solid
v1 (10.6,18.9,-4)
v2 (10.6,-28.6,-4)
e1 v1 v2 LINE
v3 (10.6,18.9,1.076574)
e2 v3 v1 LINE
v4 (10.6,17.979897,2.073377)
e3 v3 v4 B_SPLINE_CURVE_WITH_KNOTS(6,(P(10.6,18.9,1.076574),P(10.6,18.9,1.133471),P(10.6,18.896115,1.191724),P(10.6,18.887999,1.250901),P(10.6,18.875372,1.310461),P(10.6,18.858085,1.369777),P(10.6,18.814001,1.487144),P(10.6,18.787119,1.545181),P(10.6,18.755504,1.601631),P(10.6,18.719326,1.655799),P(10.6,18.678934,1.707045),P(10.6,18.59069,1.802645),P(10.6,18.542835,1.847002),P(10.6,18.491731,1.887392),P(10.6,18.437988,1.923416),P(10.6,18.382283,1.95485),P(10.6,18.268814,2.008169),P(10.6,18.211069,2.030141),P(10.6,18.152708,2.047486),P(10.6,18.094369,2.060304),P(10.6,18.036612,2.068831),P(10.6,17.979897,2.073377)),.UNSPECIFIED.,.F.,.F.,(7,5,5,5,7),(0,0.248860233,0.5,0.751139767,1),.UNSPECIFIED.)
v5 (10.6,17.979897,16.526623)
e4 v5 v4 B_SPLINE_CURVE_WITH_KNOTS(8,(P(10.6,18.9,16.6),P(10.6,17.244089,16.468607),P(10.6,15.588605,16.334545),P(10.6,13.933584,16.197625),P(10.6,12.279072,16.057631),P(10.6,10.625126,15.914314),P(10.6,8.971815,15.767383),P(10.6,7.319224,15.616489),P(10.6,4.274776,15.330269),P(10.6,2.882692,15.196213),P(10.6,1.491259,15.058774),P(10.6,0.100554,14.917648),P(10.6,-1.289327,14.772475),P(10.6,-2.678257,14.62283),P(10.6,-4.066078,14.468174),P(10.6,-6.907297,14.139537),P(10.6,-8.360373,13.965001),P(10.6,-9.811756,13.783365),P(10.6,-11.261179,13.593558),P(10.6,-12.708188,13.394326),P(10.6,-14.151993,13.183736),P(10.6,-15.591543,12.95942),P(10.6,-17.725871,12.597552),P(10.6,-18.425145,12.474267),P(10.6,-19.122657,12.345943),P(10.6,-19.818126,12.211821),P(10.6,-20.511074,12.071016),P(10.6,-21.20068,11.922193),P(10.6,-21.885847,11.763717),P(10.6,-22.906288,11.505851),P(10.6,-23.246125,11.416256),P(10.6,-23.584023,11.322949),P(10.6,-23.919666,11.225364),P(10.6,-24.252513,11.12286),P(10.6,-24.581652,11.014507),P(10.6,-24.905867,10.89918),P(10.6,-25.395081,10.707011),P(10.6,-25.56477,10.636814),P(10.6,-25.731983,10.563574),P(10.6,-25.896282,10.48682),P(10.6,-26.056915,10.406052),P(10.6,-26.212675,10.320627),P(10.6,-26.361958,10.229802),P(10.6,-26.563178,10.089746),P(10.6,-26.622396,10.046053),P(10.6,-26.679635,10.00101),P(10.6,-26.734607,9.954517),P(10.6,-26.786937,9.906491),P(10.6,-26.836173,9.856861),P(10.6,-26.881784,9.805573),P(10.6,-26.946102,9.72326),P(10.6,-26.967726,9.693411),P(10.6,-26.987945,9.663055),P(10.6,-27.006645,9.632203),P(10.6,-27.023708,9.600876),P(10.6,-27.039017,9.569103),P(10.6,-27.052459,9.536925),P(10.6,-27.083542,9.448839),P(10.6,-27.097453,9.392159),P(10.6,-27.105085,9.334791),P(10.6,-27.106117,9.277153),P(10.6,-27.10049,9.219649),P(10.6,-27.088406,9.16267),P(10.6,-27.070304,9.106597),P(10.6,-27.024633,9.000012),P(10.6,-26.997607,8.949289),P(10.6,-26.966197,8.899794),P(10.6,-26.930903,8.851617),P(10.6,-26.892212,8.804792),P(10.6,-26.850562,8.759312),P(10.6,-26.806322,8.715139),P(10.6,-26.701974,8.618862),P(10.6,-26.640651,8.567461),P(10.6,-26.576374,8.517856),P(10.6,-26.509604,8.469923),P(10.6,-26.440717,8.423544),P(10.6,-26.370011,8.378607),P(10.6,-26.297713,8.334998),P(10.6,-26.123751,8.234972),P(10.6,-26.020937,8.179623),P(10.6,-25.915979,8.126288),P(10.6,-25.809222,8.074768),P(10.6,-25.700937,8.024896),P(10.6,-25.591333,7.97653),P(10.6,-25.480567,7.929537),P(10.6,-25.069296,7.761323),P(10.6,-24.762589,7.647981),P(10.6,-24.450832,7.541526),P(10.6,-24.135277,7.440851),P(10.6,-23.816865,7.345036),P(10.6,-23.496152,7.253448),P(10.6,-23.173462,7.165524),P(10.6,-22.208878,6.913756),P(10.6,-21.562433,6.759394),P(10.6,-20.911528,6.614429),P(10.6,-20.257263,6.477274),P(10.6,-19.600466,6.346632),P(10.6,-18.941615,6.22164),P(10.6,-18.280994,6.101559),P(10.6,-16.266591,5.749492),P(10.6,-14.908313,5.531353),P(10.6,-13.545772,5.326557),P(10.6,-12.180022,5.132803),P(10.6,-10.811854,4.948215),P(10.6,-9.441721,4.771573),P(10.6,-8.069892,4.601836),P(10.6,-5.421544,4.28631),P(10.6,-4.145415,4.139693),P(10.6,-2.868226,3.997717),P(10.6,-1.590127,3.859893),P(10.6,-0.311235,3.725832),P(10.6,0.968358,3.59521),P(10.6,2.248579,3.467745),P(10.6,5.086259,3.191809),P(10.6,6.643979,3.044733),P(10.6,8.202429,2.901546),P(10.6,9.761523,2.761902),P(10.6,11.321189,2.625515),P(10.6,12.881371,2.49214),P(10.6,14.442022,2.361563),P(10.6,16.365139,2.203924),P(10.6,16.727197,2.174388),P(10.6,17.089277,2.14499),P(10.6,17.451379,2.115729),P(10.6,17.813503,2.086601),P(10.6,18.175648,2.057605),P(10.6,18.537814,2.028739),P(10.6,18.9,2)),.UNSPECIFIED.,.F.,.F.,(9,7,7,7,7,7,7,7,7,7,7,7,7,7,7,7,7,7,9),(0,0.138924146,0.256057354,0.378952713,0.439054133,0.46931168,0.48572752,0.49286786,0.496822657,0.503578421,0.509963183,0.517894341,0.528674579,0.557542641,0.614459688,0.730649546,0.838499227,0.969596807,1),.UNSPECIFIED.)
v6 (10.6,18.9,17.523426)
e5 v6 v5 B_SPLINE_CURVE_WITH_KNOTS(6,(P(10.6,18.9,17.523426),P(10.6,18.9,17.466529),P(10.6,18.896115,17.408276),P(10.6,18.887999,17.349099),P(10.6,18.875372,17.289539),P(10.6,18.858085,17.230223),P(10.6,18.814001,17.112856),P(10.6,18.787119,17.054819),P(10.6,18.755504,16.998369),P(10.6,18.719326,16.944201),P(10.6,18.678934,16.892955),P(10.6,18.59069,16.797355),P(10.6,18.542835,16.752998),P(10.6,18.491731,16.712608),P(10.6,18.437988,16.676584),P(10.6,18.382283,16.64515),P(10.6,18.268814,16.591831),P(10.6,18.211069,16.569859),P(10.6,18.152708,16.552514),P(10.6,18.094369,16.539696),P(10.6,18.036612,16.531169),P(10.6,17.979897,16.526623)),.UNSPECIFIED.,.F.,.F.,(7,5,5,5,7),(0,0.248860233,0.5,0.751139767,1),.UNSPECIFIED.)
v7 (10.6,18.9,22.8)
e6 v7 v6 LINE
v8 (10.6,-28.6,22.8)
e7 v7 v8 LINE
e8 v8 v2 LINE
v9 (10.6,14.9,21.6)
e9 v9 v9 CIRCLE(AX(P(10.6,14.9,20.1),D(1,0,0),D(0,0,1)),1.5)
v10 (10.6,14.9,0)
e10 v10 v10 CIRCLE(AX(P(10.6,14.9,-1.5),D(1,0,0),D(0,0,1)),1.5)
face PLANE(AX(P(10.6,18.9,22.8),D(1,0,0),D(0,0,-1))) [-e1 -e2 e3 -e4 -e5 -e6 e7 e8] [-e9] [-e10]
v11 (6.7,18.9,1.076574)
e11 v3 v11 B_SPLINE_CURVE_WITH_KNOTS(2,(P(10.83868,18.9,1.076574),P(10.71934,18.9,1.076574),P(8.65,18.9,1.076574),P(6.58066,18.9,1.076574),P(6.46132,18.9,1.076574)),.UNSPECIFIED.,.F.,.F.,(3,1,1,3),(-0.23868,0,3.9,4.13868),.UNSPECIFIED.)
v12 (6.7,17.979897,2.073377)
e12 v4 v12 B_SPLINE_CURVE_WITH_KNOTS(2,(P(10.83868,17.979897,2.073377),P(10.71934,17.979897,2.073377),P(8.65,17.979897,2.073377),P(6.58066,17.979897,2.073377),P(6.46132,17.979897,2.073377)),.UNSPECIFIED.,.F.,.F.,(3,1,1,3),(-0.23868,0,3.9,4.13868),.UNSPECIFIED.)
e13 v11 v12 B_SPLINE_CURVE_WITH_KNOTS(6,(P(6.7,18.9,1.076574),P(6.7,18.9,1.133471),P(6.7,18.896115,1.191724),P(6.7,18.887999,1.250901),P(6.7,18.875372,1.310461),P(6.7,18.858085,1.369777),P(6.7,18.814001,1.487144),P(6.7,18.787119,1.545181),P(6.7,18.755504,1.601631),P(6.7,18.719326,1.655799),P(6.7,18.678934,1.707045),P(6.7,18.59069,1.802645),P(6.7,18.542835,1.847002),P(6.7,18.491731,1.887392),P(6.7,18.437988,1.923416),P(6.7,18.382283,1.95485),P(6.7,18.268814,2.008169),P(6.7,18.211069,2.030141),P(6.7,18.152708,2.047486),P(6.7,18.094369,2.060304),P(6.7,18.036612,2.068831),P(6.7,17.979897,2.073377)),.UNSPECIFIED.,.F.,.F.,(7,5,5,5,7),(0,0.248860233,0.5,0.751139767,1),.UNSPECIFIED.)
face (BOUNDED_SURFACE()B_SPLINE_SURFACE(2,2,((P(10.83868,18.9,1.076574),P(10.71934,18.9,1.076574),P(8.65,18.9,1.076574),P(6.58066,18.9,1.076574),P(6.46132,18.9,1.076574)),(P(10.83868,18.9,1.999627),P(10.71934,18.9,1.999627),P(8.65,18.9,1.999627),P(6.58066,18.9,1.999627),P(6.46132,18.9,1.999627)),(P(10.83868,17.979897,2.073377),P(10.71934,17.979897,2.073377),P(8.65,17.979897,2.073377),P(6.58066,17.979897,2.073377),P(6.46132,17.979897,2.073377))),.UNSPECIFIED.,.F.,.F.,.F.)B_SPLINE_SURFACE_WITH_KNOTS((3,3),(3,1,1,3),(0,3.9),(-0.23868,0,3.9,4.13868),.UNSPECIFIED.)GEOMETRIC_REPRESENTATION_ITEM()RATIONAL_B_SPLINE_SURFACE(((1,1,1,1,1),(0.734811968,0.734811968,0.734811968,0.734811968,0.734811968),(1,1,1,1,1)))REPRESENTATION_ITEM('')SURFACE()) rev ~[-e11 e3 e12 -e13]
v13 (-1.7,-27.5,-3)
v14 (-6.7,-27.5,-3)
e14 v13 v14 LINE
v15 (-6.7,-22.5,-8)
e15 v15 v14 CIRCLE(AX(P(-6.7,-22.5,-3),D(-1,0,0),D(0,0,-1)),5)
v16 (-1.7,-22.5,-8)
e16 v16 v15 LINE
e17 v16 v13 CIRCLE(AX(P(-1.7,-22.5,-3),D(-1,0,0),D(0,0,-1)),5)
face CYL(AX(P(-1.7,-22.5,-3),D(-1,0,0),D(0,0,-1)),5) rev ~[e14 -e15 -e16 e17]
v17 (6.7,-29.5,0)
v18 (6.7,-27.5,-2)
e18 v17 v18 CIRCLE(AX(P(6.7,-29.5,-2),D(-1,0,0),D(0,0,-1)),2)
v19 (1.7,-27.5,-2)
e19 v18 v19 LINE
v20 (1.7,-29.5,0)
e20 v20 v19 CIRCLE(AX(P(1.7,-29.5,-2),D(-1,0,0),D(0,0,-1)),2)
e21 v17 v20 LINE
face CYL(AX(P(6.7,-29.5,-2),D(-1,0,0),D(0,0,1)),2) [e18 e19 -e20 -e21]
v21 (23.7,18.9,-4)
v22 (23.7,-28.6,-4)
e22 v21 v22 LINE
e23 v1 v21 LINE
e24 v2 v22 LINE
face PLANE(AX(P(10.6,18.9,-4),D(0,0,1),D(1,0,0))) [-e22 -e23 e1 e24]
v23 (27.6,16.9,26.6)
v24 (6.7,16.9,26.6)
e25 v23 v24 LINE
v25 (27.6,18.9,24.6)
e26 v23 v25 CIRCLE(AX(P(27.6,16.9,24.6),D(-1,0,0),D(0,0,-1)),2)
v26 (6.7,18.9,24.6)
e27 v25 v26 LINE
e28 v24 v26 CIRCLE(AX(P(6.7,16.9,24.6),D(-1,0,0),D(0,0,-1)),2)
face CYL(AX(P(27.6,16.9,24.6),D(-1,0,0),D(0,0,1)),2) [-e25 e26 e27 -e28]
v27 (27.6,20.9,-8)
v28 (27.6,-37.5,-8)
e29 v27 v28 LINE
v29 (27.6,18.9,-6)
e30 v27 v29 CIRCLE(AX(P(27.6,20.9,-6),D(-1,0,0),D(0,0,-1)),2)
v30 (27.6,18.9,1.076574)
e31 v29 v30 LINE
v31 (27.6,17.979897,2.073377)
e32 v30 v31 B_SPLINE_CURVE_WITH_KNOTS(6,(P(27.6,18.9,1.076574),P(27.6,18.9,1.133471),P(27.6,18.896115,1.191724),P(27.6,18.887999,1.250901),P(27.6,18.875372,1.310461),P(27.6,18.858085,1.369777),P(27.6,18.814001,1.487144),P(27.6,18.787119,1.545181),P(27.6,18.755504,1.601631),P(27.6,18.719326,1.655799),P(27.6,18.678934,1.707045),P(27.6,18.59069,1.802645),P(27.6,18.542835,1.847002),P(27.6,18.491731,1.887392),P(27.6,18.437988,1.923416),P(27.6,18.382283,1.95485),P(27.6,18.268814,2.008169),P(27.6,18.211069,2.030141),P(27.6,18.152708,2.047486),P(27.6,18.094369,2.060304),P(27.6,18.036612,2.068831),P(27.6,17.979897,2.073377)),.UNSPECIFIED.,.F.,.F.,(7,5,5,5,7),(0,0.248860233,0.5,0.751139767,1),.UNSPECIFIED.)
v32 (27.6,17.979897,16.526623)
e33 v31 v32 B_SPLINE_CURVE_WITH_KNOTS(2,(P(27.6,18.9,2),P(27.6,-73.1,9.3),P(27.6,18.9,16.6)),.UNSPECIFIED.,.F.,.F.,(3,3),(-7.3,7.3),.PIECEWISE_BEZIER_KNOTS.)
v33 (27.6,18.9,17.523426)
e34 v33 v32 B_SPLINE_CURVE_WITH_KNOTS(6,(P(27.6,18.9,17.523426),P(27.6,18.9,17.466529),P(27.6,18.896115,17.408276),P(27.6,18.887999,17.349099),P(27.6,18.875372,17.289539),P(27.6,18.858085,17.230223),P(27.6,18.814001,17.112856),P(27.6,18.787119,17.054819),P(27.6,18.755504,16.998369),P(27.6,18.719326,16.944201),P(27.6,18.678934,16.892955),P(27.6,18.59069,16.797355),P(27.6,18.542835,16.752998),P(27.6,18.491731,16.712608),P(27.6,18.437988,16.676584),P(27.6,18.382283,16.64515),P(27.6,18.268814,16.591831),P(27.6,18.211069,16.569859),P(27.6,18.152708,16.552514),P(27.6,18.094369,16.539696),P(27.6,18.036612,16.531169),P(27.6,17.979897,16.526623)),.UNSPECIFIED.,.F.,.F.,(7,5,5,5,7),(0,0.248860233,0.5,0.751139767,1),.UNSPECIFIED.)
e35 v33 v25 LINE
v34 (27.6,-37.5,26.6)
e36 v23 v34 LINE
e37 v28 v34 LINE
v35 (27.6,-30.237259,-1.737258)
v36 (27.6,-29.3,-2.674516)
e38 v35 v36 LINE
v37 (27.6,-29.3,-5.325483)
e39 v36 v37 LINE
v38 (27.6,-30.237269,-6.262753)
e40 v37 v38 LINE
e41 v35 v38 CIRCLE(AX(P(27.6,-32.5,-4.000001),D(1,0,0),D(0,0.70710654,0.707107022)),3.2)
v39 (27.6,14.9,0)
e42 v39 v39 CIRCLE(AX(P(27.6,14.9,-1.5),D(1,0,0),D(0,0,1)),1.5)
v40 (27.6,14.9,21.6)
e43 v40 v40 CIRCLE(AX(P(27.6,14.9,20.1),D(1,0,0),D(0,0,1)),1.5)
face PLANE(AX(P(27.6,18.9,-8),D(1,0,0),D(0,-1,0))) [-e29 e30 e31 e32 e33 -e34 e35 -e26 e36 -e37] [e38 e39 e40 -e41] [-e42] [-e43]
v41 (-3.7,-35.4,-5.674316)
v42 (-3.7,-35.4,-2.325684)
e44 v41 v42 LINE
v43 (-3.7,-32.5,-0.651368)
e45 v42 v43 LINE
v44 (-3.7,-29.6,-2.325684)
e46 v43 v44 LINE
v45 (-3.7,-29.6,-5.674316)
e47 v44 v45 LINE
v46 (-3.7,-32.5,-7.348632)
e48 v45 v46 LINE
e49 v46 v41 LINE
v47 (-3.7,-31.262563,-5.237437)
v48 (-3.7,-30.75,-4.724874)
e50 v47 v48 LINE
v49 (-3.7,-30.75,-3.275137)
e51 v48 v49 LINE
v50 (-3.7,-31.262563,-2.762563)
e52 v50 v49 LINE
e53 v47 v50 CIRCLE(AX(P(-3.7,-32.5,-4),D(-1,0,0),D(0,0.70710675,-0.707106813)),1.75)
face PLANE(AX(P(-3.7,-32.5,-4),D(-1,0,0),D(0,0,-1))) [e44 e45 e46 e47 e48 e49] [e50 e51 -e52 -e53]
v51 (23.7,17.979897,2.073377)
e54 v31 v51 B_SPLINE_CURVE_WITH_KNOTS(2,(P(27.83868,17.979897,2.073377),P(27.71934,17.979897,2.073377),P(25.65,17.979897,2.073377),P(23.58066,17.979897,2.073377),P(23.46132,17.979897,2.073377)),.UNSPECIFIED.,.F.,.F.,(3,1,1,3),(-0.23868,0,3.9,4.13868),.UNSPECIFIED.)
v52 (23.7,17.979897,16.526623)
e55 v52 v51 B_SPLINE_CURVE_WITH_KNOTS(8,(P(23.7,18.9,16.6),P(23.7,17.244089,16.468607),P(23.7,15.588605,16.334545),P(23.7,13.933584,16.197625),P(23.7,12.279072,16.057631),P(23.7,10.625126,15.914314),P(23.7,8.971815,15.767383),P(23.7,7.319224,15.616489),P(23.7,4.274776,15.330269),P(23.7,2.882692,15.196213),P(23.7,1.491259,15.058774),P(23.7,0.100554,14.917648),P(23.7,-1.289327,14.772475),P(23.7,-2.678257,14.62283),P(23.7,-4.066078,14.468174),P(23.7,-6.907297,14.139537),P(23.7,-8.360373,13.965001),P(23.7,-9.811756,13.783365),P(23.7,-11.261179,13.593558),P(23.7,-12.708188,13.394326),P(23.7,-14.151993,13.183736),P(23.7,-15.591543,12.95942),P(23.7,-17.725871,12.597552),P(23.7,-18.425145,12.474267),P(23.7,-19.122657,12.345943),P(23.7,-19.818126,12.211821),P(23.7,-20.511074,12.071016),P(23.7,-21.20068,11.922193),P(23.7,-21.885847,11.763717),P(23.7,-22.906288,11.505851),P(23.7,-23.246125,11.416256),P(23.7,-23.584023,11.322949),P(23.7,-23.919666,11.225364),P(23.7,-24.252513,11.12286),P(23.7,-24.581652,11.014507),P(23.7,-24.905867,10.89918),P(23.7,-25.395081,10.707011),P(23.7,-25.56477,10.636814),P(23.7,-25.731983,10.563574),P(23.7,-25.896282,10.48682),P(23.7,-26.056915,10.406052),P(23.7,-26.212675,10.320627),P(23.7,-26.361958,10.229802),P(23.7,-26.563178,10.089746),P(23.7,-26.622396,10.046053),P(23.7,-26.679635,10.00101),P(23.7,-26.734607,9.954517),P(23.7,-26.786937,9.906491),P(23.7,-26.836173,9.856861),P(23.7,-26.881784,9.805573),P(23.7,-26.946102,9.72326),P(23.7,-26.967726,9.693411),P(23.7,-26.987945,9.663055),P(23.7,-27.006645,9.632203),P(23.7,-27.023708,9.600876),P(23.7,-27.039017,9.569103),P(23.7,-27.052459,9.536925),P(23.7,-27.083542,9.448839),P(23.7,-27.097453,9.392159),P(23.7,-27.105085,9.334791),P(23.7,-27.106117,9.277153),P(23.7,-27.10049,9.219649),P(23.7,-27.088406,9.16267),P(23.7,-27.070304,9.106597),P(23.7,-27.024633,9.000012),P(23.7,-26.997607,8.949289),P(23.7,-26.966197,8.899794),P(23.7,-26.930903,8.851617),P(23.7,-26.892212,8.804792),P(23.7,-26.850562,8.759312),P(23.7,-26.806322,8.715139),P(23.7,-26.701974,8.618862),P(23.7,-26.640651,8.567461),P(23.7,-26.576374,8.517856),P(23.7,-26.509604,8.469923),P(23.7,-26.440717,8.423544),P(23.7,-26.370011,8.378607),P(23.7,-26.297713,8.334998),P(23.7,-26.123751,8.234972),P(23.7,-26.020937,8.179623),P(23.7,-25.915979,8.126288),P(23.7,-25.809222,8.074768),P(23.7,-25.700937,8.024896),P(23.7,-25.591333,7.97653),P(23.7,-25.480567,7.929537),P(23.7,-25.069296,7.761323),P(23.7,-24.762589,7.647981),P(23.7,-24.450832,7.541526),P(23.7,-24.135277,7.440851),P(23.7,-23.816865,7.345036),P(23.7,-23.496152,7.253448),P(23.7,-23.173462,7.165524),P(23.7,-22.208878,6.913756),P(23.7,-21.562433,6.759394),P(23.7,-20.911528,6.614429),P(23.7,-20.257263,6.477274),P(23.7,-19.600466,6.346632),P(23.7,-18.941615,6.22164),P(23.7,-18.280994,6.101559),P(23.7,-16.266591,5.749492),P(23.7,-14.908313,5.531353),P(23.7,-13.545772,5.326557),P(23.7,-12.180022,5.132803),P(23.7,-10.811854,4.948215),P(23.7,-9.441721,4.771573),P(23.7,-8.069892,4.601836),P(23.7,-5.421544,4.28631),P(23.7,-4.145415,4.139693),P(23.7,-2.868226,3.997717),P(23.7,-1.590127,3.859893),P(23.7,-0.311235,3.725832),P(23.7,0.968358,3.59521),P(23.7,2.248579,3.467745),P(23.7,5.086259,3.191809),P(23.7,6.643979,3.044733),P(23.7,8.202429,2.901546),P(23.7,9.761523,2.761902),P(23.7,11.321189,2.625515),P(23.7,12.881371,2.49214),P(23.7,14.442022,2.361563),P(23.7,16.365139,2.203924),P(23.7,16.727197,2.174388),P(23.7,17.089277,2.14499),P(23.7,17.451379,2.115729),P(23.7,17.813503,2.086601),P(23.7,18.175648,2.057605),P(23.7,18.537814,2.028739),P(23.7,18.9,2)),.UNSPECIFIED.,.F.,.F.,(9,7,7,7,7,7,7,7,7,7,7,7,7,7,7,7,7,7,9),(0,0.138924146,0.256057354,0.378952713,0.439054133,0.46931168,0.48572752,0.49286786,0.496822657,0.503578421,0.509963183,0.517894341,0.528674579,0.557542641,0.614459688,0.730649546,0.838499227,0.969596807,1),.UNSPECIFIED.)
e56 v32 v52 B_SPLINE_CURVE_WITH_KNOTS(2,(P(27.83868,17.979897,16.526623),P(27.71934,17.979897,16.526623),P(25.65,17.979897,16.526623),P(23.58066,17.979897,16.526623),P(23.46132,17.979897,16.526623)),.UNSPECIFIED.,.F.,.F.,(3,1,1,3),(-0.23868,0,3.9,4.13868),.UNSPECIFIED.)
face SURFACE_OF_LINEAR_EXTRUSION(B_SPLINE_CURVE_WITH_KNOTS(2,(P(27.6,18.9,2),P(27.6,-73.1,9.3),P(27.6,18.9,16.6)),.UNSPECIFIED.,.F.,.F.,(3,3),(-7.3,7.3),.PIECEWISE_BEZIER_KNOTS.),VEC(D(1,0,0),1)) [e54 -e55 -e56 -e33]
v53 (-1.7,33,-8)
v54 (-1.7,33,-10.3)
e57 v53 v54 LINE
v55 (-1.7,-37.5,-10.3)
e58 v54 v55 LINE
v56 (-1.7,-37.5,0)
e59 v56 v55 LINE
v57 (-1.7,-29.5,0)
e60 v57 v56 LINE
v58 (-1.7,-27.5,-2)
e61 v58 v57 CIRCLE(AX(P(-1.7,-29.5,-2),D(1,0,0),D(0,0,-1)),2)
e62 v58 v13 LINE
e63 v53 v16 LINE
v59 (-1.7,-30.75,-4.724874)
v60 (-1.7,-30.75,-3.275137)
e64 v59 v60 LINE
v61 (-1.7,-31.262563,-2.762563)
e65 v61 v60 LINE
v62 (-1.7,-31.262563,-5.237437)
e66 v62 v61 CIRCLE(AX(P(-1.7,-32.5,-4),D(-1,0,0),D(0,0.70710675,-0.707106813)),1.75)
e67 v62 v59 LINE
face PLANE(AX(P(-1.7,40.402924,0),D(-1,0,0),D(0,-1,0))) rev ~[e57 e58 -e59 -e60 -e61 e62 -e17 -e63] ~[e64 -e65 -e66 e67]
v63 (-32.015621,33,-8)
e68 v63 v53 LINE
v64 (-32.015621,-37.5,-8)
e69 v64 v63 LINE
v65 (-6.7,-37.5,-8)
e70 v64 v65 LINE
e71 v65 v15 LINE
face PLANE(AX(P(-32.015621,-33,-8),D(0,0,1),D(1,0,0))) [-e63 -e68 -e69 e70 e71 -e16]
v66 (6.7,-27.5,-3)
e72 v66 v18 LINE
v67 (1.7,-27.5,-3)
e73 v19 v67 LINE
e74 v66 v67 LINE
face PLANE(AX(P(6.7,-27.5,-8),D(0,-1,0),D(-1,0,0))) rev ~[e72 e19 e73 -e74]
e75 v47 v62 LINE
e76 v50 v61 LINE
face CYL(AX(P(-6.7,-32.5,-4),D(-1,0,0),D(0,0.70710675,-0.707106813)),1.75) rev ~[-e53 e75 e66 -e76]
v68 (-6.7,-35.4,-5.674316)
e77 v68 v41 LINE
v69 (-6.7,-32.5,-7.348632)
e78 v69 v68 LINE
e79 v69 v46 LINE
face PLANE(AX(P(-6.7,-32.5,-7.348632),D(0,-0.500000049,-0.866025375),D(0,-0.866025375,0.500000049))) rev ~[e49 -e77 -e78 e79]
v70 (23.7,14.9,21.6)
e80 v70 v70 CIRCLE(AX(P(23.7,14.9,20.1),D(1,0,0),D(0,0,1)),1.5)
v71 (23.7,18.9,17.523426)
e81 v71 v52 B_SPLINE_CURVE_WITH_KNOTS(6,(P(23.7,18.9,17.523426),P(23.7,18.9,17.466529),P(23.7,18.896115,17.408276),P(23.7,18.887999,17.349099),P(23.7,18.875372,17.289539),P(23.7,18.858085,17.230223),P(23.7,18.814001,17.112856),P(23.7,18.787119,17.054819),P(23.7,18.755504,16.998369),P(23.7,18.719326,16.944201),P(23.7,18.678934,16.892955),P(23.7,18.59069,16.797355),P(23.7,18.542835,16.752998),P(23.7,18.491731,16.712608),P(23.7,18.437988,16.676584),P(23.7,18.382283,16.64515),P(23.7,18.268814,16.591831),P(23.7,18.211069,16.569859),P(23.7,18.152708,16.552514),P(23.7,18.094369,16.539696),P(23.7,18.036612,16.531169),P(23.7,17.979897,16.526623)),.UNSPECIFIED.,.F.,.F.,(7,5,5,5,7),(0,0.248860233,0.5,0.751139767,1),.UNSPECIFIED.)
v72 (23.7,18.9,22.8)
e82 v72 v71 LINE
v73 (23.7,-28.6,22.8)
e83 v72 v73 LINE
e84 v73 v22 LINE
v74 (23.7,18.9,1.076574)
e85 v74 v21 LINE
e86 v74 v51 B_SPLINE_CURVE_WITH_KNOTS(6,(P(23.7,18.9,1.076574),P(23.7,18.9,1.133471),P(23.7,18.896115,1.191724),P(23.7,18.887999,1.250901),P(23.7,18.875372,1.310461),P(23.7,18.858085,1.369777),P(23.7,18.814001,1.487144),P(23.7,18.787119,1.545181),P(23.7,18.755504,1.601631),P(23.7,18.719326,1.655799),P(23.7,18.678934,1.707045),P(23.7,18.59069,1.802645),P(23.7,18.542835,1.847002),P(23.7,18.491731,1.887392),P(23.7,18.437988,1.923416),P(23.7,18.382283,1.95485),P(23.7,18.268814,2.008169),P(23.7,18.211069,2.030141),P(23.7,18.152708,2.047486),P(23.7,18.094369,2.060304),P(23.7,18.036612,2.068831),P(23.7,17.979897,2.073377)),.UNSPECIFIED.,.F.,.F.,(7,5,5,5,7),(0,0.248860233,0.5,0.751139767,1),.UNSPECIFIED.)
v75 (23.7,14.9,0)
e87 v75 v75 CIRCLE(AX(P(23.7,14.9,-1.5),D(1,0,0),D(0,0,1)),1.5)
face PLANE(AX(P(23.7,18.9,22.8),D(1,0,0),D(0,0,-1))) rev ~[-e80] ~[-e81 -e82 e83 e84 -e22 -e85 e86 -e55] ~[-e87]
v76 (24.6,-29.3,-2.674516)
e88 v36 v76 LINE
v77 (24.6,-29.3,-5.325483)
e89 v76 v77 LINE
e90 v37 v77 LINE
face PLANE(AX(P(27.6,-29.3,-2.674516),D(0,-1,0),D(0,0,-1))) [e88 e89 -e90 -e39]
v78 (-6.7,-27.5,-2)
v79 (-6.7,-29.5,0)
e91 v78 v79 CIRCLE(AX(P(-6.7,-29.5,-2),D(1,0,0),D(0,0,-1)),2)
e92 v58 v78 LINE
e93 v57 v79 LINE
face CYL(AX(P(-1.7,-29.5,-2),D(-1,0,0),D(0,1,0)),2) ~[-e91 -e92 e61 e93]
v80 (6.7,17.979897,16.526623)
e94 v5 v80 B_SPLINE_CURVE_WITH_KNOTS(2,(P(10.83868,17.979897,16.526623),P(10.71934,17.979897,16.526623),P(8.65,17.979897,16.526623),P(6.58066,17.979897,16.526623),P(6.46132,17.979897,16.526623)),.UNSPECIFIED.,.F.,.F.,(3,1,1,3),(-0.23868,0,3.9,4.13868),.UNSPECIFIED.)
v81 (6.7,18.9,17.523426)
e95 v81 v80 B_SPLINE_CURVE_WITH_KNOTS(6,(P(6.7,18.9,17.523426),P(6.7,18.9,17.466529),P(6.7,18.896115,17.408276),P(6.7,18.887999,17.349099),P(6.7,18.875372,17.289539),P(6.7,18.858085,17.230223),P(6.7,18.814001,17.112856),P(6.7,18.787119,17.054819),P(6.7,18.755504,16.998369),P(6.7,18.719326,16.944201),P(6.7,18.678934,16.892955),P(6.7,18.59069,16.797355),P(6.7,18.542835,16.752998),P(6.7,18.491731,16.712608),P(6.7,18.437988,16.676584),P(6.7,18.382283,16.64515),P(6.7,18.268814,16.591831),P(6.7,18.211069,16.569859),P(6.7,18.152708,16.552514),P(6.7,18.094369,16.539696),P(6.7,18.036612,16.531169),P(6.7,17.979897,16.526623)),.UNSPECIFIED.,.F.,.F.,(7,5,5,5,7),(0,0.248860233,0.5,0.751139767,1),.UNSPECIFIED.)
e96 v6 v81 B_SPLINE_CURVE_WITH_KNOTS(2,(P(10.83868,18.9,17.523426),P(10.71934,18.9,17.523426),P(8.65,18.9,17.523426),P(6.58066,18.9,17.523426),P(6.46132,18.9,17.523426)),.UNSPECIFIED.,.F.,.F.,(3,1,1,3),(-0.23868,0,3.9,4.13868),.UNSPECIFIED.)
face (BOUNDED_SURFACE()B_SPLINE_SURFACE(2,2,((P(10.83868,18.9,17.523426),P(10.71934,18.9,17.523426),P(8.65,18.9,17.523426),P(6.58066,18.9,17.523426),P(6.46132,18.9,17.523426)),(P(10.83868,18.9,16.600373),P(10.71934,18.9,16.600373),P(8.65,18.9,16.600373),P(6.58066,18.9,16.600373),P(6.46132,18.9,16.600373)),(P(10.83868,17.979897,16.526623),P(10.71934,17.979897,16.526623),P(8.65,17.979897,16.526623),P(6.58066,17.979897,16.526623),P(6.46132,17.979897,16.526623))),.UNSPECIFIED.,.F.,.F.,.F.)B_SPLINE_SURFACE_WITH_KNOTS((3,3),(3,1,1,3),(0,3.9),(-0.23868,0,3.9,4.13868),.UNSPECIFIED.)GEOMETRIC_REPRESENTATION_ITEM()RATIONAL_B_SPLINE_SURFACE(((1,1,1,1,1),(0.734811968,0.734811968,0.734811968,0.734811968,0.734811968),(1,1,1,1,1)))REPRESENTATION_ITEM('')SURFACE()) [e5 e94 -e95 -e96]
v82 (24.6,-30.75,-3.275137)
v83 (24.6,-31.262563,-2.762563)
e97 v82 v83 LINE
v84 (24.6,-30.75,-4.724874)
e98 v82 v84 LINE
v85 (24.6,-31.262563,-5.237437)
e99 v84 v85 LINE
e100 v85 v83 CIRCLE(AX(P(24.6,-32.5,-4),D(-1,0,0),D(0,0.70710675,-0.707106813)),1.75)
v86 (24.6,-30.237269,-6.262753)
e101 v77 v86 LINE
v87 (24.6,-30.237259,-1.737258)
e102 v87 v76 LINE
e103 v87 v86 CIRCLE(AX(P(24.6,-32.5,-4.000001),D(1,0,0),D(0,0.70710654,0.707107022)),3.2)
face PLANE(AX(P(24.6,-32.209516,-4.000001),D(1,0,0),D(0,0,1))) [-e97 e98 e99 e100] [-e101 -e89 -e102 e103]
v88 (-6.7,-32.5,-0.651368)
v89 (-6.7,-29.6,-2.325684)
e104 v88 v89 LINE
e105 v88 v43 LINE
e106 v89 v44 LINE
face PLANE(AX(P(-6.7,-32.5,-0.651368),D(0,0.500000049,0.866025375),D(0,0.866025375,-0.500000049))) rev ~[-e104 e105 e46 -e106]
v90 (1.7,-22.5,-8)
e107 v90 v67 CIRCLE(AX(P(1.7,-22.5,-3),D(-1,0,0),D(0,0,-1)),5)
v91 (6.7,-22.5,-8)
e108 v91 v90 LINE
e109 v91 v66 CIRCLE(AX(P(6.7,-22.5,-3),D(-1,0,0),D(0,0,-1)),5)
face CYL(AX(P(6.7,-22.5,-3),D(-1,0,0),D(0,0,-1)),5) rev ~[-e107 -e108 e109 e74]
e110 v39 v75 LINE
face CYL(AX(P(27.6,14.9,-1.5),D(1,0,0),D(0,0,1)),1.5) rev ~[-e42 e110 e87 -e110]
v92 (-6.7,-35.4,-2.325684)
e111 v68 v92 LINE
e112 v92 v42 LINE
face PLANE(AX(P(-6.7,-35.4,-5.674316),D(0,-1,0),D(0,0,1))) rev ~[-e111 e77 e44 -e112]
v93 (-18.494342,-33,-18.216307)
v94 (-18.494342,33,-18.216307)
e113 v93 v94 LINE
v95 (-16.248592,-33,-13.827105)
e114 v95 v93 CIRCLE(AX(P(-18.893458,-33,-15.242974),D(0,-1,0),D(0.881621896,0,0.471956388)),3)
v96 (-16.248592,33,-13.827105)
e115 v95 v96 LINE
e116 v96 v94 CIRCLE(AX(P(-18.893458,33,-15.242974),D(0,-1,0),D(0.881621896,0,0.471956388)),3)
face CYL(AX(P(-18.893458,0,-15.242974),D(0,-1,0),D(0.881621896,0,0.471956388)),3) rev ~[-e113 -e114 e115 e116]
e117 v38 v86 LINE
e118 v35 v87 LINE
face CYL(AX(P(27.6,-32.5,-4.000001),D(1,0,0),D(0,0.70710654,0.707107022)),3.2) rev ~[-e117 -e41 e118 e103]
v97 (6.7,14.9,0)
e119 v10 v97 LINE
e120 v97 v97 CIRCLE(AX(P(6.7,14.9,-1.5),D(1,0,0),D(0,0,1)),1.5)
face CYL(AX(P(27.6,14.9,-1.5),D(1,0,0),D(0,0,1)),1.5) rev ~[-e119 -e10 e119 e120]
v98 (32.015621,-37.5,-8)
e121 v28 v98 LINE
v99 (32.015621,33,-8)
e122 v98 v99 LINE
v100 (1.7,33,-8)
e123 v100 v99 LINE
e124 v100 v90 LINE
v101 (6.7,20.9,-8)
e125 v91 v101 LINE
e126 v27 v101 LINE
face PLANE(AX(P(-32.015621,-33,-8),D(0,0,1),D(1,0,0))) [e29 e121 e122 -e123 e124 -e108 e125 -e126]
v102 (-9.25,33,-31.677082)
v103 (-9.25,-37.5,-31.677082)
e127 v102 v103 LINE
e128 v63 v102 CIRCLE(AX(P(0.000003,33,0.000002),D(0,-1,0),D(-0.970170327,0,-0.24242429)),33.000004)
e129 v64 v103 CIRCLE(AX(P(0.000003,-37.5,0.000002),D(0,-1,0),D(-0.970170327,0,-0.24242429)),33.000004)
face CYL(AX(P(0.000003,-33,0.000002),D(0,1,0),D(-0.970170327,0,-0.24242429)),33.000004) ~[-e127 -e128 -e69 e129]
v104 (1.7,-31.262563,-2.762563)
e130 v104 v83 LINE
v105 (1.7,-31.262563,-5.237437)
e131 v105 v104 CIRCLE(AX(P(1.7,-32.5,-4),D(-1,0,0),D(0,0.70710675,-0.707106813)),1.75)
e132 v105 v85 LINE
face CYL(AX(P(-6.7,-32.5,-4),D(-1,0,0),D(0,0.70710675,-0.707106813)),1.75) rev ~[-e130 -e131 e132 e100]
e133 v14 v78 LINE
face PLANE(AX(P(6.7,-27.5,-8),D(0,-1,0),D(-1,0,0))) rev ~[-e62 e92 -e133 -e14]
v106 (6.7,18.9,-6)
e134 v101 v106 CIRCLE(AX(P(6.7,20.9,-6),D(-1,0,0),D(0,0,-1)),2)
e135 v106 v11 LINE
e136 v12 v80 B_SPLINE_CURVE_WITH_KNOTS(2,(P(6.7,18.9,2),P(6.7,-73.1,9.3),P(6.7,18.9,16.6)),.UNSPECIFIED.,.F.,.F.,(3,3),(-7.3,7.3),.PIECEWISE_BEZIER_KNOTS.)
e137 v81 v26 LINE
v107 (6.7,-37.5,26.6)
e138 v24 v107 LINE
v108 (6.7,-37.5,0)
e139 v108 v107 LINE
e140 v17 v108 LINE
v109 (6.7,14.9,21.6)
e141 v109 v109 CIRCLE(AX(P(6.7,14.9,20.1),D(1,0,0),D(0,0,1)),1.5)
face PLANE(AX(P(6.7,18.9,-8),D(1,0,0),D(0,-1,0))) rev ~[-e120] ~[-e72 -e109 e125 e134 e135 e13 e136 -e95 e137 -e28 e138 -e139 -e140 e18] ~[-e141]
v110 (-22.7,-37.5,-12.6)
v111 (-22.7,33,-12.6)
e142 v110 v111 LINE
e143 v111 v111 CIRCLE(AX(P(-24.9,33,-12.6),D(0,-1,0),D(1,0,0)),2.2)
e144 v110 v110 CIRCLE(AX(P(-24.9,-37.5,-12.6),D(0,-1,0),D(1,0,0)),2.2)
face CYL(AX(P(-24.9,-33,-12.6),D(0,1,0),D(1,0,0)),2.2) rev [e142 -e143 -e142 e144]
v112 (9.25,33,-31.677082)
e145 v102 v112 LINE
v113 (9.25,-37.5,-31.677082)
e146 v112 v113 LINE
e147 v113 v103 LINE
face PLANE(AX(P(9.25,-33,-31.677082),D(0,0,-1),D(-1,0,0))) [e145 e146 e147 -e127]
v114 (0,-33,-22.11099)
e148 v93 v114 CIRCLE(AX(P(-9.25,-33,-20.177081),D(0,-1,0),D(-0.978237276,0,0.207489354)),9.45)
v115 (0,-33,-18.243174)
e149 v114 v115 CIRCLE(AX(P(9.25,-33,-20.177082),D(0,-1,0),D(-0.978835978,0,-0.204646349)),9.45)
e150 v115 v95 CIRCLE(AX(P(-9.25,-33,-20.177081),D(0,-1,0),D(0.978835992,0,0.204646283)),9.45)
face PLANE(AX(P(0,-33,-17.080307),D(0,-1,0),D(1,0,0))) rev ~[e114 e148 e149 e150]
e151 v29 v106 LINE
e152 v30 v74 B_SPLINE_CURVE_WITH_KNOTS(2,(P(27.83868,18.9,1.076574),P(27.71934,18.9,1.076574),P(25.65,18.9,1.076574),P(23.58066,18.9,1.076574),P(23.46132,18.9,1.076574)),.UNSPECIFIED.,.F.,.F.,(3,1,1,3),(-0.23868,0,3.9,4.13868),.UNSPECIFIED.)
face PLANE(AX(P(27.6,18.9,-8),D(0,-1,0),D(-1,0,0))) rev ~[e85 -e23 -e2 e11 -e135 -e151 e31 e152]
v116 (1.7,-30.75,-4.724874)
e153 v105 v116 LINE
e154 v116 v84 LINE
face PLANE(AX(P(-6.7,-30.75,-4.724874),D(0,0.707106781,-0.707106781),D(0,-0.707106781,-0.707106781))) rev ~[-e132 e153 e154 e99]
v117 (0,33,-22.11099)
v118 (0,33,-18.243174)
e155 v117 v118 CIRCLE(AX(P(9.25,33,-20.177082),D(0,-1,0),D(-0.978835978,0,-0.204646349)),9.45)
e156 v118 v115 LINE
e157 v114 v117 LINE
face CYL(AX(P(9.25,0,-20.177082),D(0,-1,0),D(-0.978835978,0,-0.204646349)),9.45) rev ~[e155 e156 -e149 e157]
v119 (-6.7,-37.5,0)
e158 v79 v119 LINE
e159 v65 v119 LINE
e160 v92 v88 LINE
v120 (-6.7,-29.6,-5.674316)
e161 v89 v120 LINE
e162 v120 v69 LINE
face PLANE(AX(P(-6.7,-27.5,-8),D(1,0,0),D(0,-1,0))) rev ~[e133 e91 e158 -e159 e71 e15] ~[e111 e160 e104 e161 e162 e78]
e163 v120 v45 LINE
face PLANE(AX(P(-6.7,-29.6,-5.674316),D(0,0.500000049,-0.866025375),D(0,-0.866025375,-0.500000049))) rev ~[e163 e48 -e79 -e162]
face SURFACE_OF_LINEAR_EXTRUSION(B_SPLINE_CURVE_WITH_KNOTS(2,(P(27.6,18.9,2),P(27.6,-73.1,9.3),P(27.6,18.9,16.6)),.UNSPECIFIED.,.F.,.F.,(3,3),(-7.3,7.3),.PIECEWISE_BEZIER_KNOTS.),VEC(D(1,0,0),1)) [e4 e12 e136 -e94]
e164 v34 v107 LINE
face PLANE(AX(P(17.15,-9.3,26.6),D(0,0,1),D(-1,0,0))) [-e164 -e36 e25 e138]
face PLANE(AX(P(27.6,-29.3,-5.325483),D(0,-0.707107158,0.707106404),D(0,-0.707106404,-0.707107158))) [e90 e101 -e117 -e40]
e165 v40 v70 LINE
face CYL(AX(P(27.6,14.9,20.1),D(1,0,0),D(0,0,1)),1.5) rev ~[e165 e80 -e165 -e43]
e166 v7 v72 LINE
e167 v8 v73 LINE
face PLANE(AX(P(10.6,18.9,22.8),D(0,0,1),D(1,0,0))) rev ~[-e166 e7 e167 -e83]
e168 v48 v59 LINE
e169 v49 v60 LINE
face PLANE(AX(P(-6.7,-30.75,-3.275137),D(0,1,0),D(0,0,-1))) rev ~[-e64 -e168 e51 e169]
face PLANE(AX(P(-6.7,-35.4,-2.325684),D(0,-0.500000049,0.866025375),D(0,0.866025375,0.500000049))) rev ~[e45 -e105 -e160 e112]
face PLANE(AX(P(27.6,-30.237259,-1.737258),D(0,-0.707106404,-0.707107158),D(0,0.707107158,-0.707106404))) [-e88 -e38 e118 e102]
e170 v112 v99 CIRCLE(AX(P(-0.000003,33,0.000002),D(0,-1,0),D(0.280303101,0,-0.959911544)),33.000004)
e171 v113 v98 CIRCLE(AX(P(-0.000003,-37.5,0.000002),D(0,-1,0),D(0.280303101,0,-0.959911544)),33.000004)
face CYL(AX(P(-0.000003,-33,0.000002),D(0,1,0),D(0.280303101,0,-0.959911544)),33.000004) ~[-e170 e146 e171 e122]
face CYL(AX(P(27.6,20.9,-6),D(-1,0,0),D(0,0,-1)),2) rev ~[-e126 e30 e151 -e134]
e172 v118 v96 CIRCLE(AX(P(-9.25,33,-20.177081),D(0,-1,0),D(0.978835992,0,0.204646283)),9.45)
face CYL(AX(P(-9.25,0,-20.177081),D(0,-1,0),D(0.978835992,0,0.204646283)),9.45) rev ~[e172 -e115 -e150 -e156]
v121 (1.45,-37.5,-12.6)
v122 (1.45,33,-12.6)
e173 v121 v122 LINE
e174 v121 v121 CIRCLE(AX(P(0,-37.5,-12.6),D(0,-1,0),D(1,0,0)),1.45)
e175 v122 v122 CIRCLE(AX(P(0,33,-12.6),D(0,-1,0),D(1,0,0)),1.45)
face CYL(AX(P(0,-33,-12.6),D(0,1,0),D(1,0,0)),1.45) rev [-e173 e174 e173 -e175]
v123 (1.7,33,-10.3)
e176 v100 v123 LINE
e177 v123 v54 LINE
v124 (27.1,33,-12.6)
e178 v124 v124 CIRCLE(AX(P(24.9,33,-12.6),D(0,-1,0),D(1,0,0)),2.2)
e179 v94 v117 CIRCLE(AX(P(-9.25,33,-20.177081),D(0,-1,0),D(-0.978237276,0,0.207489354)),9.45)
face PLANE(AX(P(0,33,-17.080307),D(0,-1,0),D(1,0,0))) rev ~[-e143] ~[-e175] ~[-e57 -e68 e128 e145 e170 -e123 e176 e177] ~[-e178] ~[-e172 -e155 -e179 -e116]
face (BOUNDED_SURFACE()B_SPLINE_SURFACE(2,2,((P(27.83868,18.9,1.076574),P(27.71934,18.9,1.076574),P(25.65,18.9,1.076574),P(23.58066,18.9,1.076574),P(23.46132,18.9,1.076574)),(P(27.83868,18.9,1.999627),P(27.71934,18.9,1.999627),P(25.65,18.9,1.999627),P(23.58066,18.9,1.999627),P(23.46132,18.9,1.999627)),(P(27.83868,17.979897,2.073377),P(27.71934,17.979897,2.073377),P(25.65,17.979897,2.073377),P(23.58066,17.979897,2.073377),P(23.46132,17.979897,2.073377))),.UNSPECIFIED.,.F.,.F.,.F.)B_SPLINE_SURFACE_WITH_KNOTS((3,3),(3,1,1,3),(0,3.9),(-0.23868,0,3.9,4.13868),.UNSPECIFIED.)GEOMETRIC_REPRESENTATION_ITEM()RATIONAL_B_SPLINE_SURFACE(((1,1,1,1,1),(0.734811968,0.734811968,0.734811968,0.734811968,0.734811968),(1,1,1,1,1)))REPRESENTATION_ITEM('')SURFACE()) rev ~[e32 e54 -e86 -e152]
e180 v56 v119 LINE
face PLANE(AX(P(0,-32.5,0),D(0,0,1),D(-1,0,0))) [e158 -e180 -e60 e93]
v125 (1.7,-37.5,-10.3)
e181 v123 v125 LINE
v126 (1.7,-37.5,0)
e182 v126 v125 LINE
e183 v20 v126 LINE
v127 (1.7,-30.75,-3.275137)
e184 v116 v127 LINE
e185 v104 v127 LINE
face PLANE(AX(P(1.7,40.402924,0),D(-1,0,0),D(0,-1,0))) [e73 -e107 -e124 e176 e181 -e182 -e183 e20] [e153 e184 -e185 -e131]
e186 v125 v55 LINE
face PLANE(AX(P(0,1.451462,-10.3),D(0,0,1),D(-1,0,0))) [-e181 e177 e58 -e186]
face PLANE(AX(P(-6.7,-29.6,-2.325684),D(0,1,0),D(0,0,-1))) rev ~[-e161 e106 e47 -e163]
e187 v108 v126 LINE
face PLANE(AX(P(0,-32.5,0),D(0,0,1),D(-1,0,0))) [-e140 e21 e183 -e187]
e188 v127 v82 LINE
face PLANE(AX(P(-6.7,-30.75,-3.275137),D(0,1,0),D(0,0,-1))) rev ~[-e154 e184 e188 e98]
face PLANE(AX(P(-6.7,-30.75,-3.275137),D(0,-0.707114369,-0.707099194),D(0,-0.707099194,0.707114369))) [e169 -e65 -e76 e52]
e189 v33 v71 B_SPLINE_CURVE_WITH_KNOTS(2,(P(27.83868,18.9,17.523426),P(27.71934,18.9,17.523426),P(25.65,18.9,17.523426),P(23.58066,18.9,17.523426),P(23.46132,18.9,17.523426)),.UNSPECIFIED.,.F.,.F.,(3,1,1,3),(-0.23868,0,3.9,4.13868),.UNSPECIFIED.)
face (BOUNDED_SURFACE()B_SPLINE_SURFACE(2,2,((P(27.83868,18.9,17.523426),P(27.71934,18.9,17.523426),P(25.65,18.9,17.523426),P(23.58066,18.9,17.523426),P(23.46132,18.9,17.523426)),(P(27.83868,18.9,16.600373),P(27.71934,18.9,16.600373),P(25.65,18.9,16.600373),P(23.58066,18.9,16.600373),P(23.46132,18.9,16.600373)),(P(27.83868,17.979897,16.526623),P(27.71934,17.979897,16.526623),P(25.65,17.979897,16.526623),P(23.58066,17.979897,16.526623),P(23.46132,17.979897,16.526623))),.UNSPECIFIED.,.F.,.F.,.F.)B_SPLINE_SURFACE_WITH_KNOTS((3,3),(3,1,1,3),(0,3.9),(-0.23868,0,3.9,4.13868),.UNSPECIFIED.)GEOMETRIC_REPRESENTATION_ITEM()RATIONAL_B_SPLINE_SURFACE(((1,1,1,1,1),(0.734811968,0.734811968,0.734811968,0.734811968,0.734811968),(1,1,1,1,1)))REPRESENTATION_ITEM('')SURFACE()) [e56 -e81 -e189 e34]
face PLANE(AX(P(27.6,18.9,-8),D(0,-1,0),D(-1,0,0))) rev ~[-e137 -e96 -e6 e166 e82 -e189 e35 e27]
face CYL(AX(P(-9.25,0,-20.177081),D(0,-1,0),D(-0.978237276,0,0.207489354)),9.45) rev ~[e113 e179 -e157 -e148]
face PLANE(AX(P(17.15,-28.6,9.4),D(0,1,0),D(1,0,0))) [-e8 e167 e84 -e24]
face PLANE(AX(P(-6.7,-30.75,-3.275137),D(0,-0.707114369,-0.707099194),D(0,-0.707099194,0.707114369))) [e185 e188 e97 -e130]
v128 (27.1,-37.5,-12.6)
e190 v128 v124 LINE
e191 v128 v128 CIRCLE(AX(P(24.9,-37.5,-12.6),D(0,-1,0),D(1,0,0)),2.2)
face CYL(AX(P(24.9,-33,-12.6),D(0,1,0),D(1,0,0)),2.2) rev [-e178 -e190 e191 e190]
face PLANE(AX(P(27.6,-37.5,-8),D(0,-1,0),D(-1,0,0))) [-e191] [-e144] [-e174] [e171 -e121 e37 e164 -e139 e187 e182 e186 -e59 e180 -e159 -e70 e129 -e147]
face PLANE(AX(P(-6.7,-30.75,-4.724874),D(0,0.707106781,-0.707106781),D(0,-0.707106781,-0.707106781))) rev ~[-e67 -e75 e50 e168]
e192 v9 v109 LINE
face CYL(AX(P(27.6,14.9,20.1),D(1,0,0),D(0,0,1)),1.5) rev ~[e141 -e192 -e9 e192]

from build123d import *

# Parameters (mm, degrees)
SKETCH_R        = 2.2
SKETCH_R_2      = 1.45
PAD_DEPTH       = 33
SKETCH037_R     = 2.2
SKETCH037_R_2   = 1.45
PAD016_DEPTH    = 4.5
SKETCH039_W     = 13.4
SKETCH039_H     = 10
PAD017_DEPTH    = 8
SKETCH045_W     = 20.9
SKETCH045_H     = 56.4
PAD018_DEPTH    = 34.6
POCKET022_DEPTH = 38.716621
SKETCH046_W     = 13.1
SKETCH046_H     = 26.8
POCKET023_DEPTH = 47.5
SKETCH047_R     = 1.5
POCKET024_DEPTH = 20.9
SKETCH041_W     = 3.4
SKETCH041_H     = 77.902924
POCKET025_DEPTH = 10.3
POCKET027_DEPTH = 3
FILLET014_R     = 5
FILLET015_R     = 2
FILLET016_R     = 2
FILLET017_R     = 1
POCKET028_DEPTH = 3


with BuildPart() as part:
    # Sketch → Pad (new body, symmetric)
    with BuildSketch(Plane.XZ):
        with BuildLine():
            Line((-9.25, -31.677082), (9.25, -31.677082))
            ThreePointArc((9.25, -31.677082), (23.787894, -22.872168), (32.015621, -8))
            Line((-32.015621, -8), (32.015621, -8))
            ThreePointArc((-32.015621, -8), (-23.787894, -22.872168), (-9.25, -31.677082))
        make_face()
        with Locations((24.9, -12.6)):
            Circle(SKETCH_R, mode=Mode.SUBTRACT)
        with Locations((-24.9, -12.6)):
            Circle(SKETCH_R, mode=Mode.SUBTRACT)
        with Locations((0, -12.6)):
            Circle(SKETCH_R_2, mode=Mode.SUBTRACT)
        with BuildLine():
            ThreePointArc((0, -18.243174), (-6.771568, -11.057878), (-16.248592, -13.827105))
            ThreePointArc((-16.248592, -13.827105), (-21.564175, -13.876493), (-18.494342, -18.216307))
            ThreePointArc((-18.494342, -18.216307), (-11.197344, -29.424262), (0, -22.11099))
            ThreePointArc((0, -22.11099), (18.7, -20.177082), (0, -18.243174))
        make_face(mode=Mode.SUBTRACT)
    extrude(amount=PAD_DEPTH, both=True)

    # Sketch037 → Pad016 (join)
    with BuildSketch(Plane.XZ.offset(33)):
        with BuildLine():
            ThreePointArc((-32.015621, -8), (-23.787894, -22.872168), (-9.25, -31.677082))
            Line((9.25, -31.677082), (-9.25, -31.677082))
            ThreePointArc((9.25, -31.677082), (23.787894, -22.872168), (32.015621, -8))
            Line((-32.015621, -8), (32.015621, -8))
        make_face()
        with Locations((-24.9, -12.6)):
            Circle(SKETCH037_R, mode=Mode.SUBTRACT)
        with Locations((0, -12.6)):
            Circle(SKETCH037_R_2, mode=Mode.SUBTRACT)
        with Locations((24.9, -12.6)):
            Circle(SKETCH037_R, mode=Mode.SUBTRACT)
    extrude(amount=PAD016_DEPTH)

    # Sketch039 (on Face2 of Pad016) → Pad017 (join)
    with BuildSketch(Plane(origin=(0, 0, -8), x_dir=(-1, 0, 0), z_dir=(0, 0, 1))):
        with Locations((0, 32.5)):
            Rectangle(SKETCH039_W, SKETCH039_H)
    extrude(amount=PAD017_DEPTH)

    # Sketch045 (on Face2 of Pad017) → Pad018 (join)
    with BuildSketch(Plane(origin=(0, 0, -8), x_dir=(-1, 0, 0), z_dir=(0, 0, 1))):
        with Locations((-17.15, 9.3)):
            Rectangle(SKETCH045_W, SKETCH045_H)
    extrude(amount=PAD018_DEPTH)

    # Sketch040 (on Face12 of Pad018) → Pocket022 (cut, through all)
    with BuildSketch(Plane(origin=(-6.7, 0, -11), x_dir=(0, 0, -1), z_dir=(-1, 0, 0))):
        with BuildLine():
            Line((-7.724863, 30.75), (-6.275126, 30.75))
            Line((-6.275126, 30.75), (-5.762563, 31.262563))
            ThreePointArc((-5.762563, 31.262563), (-7, 34.25), (-8.237437, 31.262563))
            Line((-7.724863, 30.75), (-8.237437, 31.262563))
        make_face()
    extrude(amount=-POCKET022_DEPTH, mode=Mode.SUBTRACT)

    # Sketch046 (on Face9 of Pocket022) → Pocket023 (cut)
    with BuildSketch(Plane(origin=(0, 18.9, 0), x_dir=(1, 0, 0), z_dir=(0, 1, 0))):
        with Locations((17.15, -9.4)):
            Rectangle(SKETCH046_W, SKETCH046_H)
    extrude(amount=-POCKET023_DEPTH, mode=Mode.SUBTRACT)

    # Sketch047 (on Face8 of Pocket023) → Pocket024 (cut)
    with BuildSketch(Plane(origin=(27.6, 0, 0), x_dir=(0, 0, 1), z_dir=(1, 0, 0))):
        with BuildLine():
            add(Edge.make_bspline(
                [(2, -18.9), (9.3, 73.1), (16.6, -18.9)],
                knots=[-7.3, -7.3, -7.3, 7.3, 7.3, 7.3], degree=2))
            Line((16.6, -18.9), (2, -18.9))
        make_face()
        with Locations((-1.5, -14.9)):
            Circle(SKETCH047_R)
        with Locations((20.1, -14.9)):
            Circle(SKETCH047_R)
    extrude(amount=-POCKET024_DEPTH, mode=Mode.SUBTRACT)

    # Sketch041 (on Face38 of Pocket024) → Pocket025 (cut)
    with BuildSketch(Plane(origin=(0, 0, 0), x_dir=(-1, 0, 0), z_dir=(0, 0, 1))):
        with Locations((0, -1.451462)):
            Rectangle(SKETCH041_W, SKETCH041_H)
    extrude(amount=-POCKET025_DEPTH, mode=Mode.SUBTRACT)

    # Sketch051 (on Face8 of Pocket025) → Pocket027 (cut)
    with BuildSketch(Plane(origin=(-6.7, 0, 0), x_dir=(0, 0, -1), z_dir=(-1, 0, 0))):
        Polygon((5.674316, 29.6), (7.348632, 32.5), (5.674316, 35.4), (2.325684, 35.4), (0.651368, 32.5), (2.325684, 29.6), align=None)
    extrude(amount=-POCKET027_DEPTH, mode=Mode.SUBTRACT)

    # Fillet014
    fillet014_edges = [part.edges().sort_by_distance(p)[0] for p in [
        (-4.2, -27.5, -8),
        (4.2, -27.5, -8),
    ]]
    fillet(fillet014_edges, radius=FILLET014_R)

    # Fillet015
    fillet015_edges = [part.edges().sort_by_distance(p)[0] for p in [
        (-4.2, -27.5, 0),
        (4.2, -27.5, 0),
    ]]
    fillet(fillet015_edges, radius=FILLET015_R)

    # Fillet016
    fillet016_edges = [part.edges().sort_by_distance(p)[0] for p in [
        (17.15, 18.9, -8),
        (17.15, 18.9, 26.6),
    ]]
    fillet(fillet016_edges, radius=FILLET016_R)

    # Fillet017
    fillet017_edges = [part.edges().sort_by_distance(p)[0] for p in [
        (25.65, 18.9, 2),
        (8.65, 18.9, 2),
        (8.65, 18.9, 16.6),
        (25.65, 18.9, 16.6),
    ]]
    fillet(fillet017_edges, radius=FILLET017_R)

    # Sketch052 (on Face18 of Fillet017) → Pocket028 (cut)
    with BuildSketch(Plane(origin=(27.6, 0, 0), x_dir=(0, 0, 1), z_dir=(1, 0, 0))):
        with BuildLine():
            ThreePointArc((-1.737258, 30.237259), (-3.999993, 35.7), (-6.262753, 30.237269))
            Line((-5.325483, 29.3), (-6.262753, 30.237269))
            Line((-2.674516, 29.3), (-5.325483, 29.3))
            Line((-1.737258, 30.237259), (-2.674516, 29.3))
        make_face()
    extrude(amount=-POCKET028_DEPTH, mode=Mode.SUBTRACT)


solid = part.part
